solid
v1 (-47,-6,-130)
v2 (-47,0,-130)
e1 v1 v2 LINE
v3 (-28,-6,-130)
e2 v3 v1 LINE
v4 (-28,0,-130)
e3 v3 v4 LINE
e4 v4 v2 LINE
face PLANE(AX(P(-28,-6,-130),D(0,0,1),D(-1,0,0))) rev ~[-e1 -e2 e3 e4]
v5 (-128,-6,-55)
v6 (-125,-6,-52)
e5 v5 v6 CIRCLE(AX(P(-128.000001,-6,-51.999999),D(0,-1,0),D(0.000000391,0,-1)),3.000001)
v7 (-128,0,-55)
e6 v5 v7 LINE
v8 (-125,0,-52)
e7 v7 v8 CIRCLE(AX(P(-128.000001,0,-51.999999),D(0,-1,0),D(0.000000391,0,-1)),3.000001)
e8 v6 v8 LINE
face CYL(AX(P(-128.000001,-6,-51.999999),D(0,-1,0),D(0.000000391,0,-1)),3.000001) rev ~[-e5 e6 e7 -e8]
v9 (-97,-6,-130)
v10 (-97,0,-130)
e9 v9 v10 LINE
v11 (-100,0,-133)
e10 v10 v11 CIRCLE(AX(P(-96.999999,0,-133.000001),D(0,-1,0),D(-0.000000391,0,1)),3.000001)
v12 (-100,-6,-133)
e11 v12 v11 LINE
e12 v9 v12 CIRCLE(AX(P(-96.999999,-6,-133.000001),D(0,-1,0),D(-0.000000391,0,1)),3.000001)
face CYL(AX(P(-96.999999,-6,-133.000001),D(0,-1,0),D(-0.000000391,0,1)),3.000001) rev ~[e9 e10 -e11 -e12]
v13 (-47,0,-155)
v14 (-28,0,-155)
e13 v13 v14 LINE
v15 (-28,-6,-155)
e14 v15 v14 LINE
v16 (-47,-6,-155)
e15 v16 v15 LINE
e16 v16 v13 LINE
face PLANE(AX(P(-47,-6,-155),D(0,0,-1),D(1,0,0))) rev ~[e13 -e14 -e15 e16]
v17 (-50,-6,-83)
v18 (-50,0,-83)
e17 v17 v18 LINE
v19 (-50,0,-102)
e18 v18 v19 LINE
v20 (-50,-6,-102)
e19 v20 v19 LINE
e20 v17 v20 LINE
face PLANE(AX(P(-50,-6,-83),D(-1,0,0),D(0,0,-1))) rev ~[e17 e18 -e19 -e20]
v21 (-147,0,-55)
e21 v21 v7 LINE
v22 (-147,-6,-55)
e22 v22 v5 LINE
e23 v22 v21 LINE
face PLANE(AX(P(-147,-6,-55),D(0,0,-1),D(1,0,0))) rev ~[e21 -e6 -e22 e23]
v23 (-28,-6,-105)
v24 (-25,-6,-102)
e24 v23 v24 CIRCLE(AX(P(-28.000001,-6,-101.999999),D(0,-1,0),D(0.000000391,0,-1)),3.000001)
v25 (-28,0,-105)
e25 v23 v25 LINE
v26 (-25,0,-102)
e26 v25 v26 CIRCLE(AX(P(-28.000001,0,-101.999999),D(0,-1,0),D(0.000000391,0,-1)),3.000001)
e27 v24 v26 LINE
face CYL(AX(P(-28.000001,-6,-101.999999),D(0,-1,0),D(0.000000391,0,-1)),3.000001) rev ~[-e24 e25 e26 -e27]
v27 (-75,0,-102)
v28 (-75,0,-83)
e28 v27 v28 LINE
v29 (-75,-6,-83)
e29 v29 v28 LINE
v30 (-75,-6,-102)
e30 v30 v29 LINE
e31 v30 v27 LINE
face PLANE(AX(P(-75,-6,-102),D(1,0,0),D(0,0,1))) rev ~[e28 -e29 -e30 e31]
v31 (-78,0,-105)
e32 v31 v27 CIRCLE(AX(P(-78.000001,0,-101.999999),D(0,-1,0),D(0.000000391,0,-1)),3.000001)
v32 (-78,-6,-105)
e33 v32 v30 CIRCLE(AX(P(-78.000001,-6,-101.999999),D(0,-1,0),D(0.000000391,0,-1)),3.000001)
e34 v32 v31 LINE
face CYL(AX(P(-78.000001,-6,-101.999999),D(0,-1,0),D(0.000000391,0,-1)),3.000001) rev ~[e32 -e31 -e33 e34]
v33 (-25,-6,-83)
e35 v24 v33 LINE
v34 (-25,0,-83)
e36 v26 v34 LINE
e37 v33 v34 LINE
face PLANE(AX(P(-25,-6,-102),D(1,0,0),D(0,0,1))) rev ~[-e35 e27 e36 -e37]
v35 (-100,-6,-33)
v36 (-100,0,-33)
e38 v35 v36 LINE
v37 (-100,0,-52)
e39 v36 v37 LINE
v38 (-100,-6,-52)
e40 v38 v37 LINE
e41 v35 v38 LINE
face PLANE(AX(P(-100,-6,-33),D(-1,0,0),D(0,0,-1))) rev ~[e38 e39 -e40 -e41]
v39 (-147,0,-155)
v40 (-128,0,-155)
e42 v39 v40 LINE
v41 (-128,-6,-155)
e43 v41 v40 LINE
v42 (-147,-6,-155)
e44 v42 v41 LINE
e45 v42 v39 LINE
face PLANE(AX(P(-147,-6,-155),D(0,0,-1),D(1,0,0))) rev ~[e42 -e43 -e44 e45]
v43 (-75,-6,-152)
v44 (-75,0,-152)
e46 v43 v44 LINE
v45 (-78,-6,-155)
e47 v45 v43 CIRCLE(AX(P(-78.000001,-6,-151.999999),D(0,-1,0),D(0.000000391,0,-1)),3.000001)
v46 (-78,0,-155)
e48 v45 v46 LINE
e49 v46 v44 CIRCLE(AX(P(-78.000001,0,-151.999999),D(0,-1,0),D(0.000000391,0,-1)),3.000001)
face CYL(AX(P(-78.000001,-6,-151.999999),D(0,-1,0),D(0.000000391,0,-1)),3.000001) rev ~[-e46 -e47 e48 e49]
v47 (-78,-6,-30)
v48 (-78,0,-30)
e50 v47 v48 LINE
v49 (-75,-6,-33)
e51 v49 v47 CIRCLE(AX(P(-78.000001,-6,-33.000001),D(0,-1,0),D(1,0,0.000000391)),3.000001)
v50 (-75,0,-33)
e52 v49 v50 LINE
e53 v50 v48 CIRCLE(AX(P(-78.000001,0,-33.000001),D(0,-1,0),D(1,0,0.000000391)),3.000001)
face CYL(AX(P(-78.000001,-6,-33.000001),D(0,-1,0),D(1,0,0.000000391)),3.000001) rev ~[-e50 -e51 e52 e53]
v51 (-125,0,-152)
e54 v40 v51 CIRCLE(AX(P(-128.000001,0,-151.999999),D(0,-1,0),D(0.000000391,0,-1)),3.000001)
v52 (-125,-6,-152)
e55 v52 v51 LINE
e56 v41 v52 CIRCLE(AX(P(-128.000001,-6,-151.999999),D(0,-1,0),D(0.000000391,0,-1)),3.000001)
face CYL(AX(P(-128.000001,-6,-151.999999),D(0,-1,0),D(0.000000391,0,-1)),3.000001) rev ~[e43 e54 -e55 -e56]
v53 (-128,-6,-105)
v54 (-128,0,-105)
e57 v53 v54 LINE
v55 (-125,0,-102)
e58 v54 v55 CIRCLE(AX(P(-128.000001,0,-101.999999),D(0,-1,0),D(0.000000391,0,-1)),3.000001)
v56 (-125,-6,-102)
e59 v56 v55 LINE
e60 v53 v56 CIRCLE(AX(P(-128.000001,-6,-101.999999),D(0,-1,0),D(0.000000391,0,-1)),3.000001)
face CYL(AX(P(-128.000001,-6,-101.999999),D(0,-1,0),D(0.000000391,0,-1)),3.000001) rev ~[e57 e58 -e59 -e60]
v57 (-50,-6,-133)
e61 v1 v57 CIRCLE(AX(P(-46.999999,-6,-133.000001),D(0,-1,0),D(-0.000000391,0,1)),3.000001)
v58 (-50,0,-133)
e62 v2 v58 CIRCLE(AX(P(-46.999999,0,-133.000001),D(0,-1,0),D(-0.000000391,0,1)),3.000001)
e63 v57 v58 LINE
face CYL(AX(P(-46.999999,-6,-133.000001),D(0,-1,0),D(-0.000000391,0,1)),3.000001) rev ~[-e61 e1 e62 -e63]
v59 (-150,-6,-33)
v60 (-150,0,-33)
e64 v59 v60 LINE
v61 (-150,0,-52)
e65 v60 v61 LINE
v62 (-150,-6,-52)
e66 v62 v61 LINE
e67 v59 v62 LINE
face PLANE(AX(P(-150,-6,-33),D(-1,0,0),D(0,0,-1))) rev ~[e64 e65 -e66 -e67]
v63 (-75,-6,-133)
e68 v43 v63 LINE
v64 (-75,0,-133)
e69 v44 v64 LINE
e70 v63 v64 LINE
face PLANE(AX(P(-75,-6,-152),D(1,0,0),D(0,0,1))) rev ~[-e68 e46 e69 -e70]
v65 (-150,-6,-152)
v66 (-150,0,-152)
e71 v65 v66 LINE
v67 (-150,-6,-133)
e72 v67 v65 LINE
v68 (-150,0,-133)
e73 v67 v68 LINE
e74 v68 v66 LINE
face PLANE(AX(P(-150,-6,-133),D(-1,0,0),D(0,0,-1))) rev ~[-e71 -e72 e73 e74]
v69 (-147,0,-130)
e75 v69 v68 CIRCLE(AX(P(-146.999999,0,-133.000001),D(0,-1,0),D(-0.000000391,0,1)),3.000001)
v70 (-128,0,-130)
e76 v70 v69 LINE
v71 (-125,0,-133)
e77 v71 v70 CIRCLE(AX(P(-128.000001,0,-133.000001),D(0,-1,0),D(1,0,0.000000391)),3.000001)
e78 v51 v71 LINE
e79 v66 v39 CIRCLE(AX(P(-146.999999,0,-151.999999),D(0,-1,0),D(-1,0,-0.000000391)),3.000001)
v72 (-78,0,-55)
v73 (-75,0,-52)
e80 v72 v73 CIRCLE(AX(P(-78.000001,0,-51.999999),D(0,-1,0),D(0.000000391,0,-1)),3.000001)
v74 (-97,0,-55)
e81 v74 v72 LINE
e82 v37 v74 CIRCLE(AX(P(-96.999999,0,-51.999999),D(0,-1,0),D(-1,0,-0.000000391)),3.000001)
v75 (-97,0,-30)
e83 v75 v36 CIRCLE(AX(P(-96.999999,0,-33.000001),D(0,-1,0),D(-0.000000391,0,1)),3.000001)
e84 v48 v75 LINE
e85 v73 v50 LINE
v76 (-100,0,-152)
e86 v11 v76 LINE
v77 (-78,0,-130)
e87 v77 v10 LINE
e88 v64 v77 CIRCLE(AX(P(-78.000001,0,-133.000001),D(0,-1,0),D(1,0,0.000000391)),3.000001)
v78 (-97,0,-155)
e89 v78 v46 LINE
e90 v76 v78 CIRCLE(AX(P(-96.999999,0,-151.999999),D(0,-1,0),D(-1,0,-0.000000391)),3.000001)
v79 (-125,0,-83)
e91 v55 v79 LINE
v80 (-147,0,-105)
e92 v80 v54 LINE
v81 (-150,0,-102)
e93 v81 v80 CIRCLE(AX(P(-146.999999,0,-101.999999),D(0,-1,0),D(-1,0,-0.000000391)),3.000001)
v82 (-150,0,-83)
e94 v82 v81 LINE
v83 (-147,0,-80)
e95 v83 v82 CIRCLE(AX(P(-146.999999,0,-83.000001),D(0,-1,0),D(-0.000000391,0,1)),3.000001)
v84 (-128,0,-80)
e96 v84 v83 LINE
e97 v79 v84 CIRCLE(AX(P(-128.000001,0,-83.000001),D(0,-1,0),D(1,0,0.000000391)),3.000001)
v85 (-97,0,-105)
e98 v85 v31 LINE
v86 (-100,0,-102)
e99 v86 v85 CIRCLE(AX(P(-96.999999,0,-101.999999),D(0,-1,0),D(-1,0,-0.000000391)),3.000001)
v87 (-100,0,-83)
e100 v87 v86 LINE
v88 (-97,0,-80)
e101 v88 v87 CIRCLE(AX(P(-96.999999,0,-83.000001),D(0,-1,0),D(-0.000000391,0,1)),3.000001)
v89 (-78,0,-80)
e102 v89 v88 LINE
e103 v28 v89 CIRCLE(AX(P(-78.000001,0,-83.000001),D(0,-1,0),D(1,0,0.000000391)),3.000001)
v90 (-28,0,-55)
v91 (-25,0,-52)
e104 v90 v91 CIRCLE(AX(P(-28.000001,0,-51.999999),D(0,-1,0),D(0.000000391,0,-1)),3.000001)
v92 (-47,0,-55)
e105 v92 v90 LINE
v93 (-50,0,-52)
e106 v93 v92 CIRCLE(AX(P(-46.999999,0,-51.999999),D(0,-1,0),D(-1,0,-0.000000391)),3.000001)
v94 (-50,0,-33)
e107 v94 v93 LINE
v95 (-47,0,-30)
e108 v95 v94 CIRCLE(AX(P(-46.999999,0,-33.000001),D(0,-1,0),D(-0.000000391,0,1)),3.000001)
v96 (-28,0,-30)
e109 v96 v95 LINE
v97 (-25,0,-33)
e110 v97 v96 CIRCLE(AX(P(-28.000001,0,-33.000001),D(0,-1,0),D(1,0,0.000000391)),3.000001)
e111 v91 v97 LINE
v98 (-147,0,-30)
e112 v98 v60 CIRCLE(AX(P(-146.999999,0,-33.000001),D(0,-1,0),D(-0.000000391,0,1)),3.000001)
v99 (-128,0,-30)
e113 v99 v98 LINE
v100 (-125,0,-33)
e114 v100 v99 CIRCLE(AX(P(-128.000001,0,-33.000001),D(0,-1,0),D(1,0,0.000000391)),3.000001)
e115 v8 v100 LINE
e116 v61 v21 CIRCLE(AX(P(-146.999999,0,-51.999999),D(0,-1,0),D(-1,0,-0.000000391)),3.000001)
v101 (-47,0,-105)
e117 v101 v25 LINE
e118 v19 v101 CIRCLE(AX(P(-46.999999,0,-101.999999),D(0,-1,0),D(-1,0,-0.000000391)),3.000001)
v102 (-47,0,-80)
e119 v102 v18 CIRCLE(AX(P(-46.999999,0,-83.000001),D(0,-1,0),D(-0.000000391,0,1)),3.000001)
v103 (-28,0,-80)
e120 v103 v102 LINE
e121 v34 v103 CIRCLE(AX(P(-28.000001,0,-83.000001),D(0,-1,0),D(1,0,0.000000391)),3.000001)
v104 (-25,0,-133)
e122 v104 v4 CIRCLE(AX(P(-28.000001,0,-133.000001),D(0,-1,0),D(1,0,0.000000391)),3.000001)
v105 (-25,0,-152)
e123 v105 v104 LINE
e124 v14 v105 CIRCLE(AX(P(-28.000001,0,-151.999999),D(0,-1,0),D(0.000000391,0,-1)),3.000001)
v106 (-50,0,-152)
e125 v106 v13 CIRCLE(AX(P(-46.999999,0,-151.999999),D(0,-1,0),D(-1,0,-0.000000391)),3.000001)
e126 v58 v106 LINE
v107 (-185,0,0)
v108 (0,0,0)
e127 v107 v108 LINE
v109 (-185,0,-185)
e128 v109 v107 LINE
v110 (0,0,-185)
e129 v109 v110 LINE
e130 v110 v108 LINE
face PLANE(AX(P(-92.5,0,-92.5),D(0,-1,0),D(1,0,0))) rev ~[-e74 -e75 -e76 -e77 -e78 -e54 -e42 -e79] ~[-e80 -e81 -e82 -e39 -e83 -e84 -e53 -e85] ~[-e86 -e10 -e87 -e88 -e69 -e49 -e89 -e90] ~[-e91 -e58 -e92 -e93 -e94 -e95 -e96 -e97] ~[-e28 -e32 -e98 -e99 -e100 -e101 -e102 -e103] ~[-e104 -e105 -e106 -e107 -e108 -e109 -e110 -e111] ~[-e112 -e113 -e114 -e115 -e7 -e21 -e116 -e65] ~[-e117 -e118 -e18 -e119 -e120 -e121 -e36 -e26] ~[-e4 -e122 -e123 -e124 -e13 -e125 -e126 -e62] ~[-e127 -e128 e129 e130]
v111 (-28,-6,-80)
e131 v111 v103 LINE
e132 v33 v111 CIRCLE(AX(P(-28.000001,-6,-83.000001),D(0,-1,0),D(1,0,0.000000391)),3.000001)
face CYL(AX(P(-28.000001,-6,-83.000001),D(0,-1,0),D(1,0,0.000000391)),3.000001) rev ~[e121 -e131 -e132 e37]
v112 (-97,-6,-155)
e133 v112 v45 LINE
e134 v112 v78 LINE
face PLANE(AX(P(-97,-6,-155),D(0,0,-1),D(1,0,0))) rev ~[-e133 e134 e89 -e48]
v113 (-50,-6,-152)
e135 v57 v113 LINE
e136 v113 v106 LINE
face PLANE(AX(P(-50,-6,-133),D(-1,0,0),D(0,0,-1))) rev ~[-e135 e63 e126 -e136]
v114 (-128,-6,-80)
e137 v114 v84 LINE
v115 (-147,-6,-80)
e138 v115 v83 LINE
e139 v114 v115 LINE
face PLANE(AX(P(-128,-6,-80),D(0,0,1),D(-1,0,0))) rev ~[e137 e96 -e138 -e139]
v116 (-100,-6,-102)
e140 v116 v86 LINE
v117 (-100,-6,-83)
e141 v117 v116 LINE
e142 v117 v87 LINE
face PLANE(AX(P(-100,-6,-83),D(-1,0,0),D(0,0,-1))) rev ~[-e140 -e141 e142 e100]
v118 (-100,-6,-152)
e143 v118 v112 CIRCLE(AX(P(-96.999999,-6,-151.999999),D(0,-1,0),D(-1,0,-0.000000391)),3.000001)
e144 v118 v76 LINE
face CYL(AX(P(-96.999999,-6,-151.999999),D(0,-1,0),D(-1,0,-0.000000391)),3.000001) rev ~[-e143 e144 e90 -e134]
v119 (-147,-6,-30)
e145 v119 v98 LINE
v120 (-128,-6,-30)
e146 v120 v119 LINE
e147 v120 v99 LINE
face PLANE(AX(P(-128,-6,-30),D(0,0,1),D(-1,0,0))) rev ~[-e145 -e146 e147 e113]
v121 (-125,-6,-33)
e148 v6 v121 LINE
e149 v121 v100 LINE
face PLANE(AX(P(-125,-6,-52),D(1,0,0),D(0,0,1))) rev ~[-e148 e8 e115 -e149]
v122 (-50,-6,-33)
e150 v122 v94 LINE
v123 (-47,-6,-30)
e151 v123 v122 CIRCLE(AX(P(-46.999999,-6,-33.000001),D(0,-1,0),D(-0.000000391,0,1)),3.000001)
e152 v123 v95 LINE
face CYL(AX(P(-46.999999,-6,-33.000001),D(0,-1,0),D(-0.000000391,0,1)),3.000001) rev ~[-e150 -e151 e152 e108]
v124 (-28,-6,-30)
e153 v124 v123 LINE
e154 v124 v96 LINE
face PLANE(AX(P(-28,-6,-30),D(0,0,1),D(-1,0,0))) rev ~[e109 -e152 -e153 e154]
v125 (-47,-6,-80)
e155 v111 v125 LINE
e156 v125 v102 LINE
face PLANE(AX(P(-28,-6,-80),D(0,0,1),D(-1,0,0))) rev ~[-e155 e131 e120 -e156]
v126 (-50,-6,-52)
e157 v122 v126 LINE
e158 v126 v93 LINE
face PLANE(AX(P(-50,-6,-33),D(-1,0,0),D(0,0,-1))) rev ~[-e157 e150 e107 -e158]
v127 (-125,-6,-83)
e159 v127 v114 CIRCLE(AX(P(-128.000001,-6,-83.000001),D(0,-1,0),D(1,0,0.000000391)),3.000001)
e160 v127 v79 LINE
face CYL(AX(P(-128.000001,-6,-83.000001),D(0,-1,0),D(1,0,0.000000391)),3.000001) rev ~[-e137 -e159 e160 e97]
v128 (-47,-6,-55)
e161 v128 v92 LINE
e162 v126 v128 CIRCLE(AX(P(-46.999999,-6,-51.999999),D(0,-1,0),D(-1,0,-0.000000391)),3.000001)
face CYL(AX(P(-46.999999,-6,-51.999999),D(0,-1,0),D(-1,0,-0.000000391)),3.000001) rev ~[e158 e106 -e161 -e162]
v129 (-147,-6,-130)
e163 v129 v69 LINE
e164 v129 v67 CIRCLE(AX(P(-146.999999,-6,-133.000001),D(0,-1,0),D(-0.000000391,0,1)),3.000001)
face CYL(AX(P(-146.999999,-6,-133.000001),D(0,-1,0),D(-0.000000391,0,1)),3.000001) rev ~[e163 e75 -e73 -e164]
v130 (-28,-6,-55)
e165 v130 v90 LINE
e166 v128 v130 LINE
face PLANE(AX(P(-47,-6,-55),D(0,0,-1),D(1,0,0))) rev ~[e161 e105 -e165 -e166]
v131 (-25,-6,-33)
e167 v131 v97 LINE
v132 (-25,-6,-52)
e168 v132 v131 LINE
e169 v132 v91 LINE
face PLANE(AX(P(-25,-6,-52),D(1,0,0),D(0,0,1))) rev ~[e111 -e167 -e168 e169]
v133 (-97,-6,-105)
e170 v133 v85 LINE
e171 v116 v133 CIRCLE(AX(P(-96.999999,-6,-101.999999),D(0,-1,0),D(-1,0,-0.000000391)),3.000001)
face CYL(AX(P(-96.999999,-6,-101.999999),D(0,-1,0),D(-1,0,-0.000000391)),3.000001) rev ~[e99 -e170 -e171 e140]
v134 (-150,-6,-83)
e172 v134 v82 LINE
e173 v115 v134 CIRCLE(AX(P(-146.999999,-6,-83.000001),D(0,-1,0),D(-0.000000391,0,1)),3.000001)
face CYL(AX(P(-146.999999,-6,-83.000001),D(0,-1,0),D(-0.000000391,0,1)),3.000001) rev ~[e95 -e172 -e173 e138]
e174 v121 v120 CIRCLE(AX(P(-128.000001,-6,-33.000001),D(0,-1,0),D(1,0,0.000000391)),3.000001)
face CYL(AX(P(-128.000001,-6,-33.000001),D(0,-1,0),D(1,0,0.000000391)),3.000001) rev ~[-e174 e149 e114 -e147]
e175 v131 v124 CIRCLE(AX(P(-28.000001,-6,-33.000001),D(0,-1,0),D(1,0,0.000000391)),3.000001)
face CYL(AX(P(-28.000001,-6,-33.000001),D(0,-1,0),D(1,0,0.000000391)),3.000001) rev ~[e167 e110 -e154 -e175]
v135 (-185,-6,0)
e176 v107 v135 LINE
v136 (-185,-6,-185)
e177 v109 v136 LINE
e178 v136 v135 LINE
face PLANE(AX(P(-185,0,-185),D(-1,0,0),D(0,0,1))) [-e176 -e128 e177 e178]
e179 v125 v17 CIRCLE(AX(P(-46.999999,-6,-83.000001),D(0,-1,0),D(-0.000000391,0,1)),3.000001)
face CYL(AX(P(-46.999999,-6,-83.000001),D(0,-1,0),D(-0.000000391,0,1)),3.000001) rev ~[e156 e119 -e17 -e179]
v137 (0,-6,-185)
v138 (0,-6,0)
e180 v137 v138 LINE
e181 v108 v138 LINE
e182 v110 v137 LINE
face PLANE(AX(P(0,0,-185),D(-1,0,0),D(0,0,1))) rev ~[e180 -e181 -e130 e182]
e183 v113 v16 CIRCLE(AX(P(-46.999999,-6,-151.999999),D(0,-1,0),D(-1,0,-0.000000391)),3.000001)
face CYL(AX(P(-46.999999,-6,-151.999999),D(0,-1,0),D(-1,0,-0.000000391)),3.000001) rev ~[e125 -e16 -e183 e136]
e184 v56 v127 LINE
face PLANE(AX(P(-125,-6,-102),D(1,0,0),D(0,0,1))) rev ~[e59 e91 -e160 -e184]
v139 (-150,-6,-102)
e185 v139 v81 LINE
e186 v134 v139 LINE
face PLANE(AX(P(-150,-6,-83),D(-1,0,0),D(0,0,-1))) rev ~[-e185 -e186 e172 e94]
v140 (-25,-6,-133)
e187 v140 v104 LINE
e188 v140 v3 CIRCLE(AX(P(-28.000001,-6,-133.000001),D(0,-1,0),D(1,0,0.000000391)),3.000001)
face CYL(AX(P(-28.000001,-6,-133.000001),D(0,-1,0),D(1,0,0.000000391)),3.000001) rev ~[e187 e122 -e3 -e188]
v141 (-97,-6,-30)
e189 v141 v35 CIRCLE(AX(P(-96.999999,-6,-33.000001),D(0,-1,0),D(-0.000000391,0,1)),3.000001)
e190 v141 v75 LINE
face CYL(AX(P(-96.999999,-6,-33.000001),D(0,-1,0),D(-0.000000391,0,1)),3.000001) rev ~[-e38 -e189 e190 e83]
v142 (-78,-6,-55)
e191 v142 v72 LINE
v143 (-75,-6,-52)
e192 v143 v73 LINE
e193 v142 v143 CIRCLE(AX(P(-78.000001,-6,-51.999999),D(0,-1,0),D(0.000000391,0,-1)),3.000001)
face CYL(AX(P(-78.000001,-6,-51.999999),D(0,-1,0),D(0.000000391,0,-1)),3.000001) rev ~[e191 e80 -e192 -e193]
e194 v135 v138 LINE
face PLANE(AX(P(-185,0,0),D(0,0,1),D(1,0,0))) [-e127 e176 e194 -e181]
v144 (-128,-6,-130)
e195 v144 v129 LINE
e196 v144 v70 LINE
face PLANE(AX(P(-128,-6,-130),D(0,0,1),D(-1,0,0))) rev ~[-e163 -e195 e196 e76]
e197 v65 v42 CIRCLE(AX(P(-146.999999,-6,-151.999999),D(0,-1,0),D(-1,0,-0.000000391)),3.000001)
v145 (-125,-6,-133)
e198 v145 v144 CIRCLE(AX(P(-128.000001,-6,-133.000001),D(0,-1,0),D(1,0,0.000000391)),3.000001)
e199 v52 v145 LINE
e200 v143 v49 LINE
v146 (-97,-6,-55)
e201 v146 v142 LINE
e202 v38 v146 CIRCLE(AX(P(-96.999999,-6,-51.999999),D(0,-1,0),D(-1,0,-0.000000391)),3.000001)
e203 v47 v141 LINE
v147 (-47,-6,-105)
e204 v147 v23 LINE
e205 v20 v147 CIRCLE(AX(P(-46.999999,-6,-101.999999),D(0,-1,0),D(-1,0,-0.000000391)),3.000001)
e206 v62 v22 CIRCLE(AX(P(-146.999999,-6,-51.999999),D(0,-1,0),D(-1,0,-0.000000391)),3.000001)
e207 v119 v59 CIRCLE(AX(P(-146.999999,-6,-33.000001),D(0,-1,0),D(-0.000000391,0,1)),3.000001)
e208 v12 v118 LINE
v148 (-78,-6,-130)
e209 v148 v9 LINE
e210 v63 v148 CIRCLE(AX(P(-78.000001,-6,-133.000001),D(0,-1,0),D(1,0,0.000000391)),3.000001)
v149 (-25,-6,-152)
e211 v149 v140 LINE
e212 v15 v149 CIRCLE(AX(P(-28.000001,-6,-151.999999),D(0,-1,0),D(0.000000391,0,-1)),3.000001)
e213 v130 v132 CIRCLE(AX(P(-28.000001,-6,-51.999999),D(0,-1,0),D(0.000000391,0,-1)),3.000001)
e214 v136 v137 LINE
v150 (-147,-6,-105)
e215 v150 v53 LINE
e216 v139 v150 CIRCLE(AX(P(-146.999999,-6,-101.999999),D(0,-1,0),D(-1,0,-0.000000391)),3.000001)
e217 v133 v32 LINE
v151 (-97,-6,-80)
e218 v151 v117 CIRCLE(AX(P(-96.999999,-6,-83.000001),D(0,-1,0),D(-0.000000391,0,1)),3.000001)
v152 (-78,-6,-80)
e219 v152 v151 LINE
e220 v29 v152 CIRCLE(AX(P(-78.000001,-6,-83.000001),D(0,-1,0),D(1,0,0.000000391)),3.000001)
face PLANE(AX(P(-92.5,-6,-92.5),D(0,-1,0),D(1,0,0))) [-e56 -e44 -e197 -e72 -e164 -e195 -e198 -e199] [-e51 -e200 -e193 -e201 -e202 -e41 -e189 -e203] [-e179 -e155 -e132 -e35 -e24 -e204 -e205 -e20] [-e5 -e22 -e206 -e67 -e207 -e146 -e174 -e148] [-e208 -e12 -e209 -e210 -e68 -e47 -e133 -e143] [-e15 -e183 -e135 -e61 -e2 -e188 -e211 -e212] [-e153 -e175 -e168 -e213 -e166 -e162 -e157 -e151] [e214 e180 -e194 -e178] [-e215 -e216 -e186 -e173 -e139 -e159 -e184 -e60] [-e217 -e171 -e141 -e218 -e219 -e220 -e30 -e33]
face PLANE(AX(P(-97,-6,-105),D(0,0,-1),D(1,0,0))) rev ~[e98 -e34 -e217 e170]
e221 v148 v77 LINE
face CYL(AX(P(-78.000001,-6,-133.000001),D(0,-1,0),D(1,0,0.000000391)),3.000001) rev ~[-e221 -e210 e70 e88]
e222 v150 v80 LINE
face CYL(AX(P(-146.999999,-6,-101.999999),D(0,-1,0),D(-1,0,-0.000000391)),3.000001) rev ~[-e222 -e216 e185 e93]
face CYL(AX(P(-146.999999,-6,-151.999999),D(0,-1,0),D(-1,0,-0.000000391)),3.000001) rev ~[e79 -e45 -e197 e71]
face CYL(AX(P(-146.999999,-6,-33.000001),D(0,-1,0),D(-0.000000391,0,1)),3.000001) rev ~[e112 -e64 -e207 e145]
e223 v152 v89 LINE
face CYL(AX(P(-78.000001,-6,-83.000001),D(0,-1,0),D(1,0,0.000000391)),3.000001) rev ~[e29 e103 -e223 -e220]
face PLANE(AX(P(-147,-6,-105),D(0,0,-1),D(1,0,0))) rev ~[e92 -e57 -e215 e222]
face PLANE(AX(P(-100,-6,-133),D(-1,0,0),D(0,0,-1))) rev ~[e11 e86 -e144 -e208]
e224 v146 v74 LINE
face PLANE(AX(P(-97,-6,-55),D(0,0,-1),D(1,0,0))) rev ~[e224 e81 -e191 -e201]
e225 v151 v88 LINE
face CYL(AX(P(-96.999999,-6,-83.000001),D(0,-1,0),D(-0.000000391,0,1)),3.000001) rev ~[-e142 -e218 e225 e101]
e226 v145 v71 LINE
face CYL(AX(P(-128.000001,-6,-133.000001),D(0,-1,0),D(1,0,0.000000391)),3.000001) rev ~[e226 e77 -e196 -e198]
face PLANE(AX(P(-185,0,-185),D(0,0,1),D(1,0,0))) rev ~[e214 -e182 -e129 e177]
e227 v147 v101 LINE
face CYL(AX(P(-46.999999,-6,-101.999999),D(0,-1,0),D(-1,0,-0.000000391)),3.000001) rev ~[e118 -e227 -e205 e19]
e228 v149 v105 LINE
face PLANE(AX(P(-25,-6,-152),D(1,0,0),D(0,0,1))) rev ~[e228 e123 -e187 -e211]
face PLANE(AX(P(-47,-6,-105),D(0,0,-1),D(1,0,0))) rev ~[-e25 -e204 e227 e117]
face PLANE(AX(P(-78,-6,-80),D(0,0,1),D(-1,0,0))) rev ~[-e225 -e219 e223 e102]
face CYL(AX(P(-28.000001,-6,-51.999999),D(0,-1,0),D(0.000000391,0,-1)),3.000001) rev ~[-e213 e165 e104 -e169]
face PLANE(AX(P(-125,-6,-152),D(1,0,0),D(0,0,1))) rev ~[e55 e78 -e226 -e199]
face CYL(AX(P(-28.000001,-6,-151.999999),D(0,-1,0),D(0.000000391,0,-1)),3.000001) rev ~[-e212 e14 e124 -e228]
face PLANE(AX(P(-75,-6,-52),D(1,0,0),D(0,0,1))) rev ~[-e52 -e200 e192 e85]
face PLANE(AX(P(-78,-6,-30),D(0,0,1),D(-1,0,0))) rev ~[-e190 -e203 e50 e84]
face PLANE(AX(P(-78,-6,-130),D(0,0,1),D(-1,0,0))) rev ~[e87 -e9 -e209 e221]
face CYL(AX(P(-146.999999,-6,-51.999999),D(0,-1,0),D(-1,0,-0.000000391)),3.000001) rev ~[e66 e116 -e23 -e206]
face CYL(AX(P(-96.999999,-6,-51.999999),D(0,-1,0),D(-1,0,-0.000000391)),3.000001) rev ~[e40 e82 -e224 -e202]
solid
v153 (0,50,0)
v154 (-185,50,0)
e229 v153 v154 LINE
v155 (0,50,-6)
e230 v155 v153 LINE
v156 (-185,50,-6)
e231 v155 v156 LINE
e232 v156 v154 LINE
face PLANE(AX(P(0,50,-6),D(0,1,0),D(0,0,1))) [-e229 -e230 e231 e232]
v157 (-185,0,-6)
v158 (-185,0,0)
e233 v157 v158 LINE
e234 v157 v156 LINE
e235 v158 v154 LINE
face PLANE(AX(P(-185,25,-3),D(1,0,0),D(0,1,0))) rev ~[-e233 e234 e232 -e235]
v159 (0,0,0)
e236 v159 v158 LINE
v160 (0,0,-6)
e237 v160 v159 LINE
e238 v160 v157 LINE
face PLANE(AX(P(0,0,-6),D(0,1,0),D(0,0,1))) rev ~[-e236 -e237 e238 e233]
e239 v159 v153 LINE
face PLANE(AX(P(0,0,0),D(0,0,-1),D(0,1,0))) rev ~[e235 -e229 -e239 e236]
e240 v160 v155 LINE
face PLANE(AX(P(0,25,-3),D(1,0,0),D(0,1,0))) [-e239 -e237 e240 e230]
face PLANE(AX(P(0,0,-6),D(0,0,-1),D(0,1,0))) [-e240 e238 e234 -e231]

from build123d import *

# Parameters (mm, degrees)
F0_W     = 185
F0_H     = 185
F1_DEPTH = 6
F3_DEPTH = 25
F4_W     = 50
F4_H     = 6
F5_DEPTH = 185


with BuildPart() as f1:
    # F0 (on Front) → F1 (new body)
    with BuildSketch(Plane.XZ):
        with Locations((-92.5, -92.5)):
            Rectangle(F0_W, F0_H)
    extrude(amount=F1_DEPTH)

    # F2 (on face) → F3 (cut)
    with BuildSketch(Plane.XZ.offset(6)):
        with BuildLine():
            ThreePointArc((-125, -33), (-125.87868, -30.87868), (-128, -30))
            Line((-128, -30), (-147, -30))
            ThreePointArc((-147, -30), (-149.12132, -30.87868), (-150, -33))
            Line((-150, -33), (-150, -52))
            ThreePointArc((-150, -52), (-149.12132, -54.12132), (-147, -55))
            Line((-147, -55), (-128, -55))
            ThreePointArc((-128, -55), (-125.87868, -54.12132), (-125, -52))
            Line((-125, -52), (-125, -33))
        make_face()
        with BuildLine():
            ThreePointArc((-75, -33), (-75.87868, -30.87868), (-78, -30))
            Line((-78, -30), (-97, -30))
            ThreePointArc((-97, -30), (-99.12132, -30.87868), (-100, -33))
            Line((-100, -33), (-100, -52))
            ThreePointArc((-100, -52), (-99.12132, -54.12132), (-97, -55))
            Line((-97, -55), (-78, -55))
            ThreePointArc((-78, -55), (-75.87868, -54.12132), (-75, -52))
            Line((-75, -52), (-75, -33))
        make_face()
        with BuildLine():
            Line((-25, -52), (-25, -33))
            ThreePointArc((-25, -33), (-25.87868, -30.87868), (-28, -30))
            Line((-28, -30), (-47, -30))
            ThreePointArc((-47, -30), (-49.12132, -30.87868), (-50, -33))
            Line((-50, -33), (-50, -52))
            ThreePointArc((-50, -52), (-49.12132, -54.12132), (-47, -55))
            Line((-47, -55), (-28, -55))
            ThreePointArc((-28, -55), (-25.87868, -54.12132), (-25, -52))
        make_face()
        with BuildLine():
            Line((-25, -102), (-25, -83))
            ThreePointArc((-25, -83), (-25.87868, -80.87868), (-28, -80))
            Line((-28, -80), (-47, -80))
            ThreePointArc((-47, -80), (-49.12132, -80.87868), (-50, -83))
            Line((-50, -83), (-50, -102))
            ThreePointArc((-50, -102), (-49.12132, -104.12132), (-47, -105))
            Line((-47, -105), (-28, -105))
            ThreePointArc((-28, -105), (-25.87868, -104.12132), (-25, -102))
        make_face()
        with BuildLine():
            Line((-97, -105), (-78, -105))
            ThreePointArc((-78, -105), (-75.87868, -104.12132), (-75, -102))
            Line((-75, -102), (-75, -83))
            ThreePointArc((-75, -83), (-75.87868, -80.87868), (-78, -80))
            Line((-78, -80), (-97, -80))
            ThreePointArc((-97, -80), (-99.12132, -80.87868), (-100, -83))
            Line((-100, -83), (-100, -102))
            ThreePointArc((-100, -102), (-99.12132, -104.12132), (-97, -105))
        make_face()
        with BuildLine():
            Line((-147, -105), (-128, -105))
            ThreePointArc((-128, -105), (-125.87868, -104.12132), (-125, -102))
            Line((-125, -102), (-125, -83))
            ThreePointArc((-125, -83), (-125.87868, -80.87868), (-128, -80))
            Line((-128, -80), (-147, -80))
            ThreePointArc((-147, -80), (-149.12132, -80.87868), (-150, -83))
            Line((-150, -83), (-150, -102))
            ThreePointArc((-150, -102), (-149.12132, -104.12132), (-147, -105))
        make_face()
        with BuildLine():
            ThreePointArc((-150, -152), (-149.12132, -154.12132), (-147, -155))
            Line((-147, -155), (-128, -155))
            ThreePointArc((-128, -155), (-125.87868, -154.12132), (-125, -152))
            Line((-125, -152), (-125, -133))
            ThreePointArc((-125, -133), (-125.87868, -130.87868), (-128, -130))
            Line((-128, -130), (-147, -130))
            ThreePointArc((-147, -130), (-149.12132, -130.87868), (-150, -133))
            Line((-150, -133), (-150, -152))
        make_face()
        with BuildLine():
            ThreePointArc((-100, -152), (-99.12132, -154.12132), (-97, -155))
            Line((-97, -155), (-78, -155))
            ThreePointArc((-78, -155), (-75.87868, -154.12132), (-75, -152))
            Line((-75, -152), (-75, -133))
            ThreePointArc((-75, -133), (-75.87868, -130.87868), (-78, -130))
            Line((-78, -130), (-97, -130))
            ThreePointArc((-97, -130), (-99.12132, -130.87868), (-100, -133))
            Line((-100, -133), (-100, -152))
        make_face()
        with BuildLine():
            Line((-25, -152), (-25, -133))
            ThreePointArc((-25, -133), (-25.87868, -130.87868), (-28, -130))
            Line((-28, -130), (-47, -130))
            ThreePointArc((-47, -130), (-49.12132, -130.87868), (-50, -133))
            Line((-50, -133), (-50, -152))
            ThreePointArc((-50, -152), (-49.12132, -154.12132), (-47, -155))
            Line((-47, -155), (-28, -155))
            ThreePointArc((-28, -155), (-25.87868, -154.12132), (-25, -152))
        make_face()
    extrude(amount=-F3_DEPTH, mode=Mode.SUBTRACT)


with BuildPart() as f5:
    # F4 (on Right) → F5 (new body)
    with BuildSketch(Plane.YZ):
        with Locations((25, -3)):
            Rectangle(F4_W, F4_H)
    extrude(amount=-F5_DEPTH)


solid = Compound([f1.part, f5.part])
